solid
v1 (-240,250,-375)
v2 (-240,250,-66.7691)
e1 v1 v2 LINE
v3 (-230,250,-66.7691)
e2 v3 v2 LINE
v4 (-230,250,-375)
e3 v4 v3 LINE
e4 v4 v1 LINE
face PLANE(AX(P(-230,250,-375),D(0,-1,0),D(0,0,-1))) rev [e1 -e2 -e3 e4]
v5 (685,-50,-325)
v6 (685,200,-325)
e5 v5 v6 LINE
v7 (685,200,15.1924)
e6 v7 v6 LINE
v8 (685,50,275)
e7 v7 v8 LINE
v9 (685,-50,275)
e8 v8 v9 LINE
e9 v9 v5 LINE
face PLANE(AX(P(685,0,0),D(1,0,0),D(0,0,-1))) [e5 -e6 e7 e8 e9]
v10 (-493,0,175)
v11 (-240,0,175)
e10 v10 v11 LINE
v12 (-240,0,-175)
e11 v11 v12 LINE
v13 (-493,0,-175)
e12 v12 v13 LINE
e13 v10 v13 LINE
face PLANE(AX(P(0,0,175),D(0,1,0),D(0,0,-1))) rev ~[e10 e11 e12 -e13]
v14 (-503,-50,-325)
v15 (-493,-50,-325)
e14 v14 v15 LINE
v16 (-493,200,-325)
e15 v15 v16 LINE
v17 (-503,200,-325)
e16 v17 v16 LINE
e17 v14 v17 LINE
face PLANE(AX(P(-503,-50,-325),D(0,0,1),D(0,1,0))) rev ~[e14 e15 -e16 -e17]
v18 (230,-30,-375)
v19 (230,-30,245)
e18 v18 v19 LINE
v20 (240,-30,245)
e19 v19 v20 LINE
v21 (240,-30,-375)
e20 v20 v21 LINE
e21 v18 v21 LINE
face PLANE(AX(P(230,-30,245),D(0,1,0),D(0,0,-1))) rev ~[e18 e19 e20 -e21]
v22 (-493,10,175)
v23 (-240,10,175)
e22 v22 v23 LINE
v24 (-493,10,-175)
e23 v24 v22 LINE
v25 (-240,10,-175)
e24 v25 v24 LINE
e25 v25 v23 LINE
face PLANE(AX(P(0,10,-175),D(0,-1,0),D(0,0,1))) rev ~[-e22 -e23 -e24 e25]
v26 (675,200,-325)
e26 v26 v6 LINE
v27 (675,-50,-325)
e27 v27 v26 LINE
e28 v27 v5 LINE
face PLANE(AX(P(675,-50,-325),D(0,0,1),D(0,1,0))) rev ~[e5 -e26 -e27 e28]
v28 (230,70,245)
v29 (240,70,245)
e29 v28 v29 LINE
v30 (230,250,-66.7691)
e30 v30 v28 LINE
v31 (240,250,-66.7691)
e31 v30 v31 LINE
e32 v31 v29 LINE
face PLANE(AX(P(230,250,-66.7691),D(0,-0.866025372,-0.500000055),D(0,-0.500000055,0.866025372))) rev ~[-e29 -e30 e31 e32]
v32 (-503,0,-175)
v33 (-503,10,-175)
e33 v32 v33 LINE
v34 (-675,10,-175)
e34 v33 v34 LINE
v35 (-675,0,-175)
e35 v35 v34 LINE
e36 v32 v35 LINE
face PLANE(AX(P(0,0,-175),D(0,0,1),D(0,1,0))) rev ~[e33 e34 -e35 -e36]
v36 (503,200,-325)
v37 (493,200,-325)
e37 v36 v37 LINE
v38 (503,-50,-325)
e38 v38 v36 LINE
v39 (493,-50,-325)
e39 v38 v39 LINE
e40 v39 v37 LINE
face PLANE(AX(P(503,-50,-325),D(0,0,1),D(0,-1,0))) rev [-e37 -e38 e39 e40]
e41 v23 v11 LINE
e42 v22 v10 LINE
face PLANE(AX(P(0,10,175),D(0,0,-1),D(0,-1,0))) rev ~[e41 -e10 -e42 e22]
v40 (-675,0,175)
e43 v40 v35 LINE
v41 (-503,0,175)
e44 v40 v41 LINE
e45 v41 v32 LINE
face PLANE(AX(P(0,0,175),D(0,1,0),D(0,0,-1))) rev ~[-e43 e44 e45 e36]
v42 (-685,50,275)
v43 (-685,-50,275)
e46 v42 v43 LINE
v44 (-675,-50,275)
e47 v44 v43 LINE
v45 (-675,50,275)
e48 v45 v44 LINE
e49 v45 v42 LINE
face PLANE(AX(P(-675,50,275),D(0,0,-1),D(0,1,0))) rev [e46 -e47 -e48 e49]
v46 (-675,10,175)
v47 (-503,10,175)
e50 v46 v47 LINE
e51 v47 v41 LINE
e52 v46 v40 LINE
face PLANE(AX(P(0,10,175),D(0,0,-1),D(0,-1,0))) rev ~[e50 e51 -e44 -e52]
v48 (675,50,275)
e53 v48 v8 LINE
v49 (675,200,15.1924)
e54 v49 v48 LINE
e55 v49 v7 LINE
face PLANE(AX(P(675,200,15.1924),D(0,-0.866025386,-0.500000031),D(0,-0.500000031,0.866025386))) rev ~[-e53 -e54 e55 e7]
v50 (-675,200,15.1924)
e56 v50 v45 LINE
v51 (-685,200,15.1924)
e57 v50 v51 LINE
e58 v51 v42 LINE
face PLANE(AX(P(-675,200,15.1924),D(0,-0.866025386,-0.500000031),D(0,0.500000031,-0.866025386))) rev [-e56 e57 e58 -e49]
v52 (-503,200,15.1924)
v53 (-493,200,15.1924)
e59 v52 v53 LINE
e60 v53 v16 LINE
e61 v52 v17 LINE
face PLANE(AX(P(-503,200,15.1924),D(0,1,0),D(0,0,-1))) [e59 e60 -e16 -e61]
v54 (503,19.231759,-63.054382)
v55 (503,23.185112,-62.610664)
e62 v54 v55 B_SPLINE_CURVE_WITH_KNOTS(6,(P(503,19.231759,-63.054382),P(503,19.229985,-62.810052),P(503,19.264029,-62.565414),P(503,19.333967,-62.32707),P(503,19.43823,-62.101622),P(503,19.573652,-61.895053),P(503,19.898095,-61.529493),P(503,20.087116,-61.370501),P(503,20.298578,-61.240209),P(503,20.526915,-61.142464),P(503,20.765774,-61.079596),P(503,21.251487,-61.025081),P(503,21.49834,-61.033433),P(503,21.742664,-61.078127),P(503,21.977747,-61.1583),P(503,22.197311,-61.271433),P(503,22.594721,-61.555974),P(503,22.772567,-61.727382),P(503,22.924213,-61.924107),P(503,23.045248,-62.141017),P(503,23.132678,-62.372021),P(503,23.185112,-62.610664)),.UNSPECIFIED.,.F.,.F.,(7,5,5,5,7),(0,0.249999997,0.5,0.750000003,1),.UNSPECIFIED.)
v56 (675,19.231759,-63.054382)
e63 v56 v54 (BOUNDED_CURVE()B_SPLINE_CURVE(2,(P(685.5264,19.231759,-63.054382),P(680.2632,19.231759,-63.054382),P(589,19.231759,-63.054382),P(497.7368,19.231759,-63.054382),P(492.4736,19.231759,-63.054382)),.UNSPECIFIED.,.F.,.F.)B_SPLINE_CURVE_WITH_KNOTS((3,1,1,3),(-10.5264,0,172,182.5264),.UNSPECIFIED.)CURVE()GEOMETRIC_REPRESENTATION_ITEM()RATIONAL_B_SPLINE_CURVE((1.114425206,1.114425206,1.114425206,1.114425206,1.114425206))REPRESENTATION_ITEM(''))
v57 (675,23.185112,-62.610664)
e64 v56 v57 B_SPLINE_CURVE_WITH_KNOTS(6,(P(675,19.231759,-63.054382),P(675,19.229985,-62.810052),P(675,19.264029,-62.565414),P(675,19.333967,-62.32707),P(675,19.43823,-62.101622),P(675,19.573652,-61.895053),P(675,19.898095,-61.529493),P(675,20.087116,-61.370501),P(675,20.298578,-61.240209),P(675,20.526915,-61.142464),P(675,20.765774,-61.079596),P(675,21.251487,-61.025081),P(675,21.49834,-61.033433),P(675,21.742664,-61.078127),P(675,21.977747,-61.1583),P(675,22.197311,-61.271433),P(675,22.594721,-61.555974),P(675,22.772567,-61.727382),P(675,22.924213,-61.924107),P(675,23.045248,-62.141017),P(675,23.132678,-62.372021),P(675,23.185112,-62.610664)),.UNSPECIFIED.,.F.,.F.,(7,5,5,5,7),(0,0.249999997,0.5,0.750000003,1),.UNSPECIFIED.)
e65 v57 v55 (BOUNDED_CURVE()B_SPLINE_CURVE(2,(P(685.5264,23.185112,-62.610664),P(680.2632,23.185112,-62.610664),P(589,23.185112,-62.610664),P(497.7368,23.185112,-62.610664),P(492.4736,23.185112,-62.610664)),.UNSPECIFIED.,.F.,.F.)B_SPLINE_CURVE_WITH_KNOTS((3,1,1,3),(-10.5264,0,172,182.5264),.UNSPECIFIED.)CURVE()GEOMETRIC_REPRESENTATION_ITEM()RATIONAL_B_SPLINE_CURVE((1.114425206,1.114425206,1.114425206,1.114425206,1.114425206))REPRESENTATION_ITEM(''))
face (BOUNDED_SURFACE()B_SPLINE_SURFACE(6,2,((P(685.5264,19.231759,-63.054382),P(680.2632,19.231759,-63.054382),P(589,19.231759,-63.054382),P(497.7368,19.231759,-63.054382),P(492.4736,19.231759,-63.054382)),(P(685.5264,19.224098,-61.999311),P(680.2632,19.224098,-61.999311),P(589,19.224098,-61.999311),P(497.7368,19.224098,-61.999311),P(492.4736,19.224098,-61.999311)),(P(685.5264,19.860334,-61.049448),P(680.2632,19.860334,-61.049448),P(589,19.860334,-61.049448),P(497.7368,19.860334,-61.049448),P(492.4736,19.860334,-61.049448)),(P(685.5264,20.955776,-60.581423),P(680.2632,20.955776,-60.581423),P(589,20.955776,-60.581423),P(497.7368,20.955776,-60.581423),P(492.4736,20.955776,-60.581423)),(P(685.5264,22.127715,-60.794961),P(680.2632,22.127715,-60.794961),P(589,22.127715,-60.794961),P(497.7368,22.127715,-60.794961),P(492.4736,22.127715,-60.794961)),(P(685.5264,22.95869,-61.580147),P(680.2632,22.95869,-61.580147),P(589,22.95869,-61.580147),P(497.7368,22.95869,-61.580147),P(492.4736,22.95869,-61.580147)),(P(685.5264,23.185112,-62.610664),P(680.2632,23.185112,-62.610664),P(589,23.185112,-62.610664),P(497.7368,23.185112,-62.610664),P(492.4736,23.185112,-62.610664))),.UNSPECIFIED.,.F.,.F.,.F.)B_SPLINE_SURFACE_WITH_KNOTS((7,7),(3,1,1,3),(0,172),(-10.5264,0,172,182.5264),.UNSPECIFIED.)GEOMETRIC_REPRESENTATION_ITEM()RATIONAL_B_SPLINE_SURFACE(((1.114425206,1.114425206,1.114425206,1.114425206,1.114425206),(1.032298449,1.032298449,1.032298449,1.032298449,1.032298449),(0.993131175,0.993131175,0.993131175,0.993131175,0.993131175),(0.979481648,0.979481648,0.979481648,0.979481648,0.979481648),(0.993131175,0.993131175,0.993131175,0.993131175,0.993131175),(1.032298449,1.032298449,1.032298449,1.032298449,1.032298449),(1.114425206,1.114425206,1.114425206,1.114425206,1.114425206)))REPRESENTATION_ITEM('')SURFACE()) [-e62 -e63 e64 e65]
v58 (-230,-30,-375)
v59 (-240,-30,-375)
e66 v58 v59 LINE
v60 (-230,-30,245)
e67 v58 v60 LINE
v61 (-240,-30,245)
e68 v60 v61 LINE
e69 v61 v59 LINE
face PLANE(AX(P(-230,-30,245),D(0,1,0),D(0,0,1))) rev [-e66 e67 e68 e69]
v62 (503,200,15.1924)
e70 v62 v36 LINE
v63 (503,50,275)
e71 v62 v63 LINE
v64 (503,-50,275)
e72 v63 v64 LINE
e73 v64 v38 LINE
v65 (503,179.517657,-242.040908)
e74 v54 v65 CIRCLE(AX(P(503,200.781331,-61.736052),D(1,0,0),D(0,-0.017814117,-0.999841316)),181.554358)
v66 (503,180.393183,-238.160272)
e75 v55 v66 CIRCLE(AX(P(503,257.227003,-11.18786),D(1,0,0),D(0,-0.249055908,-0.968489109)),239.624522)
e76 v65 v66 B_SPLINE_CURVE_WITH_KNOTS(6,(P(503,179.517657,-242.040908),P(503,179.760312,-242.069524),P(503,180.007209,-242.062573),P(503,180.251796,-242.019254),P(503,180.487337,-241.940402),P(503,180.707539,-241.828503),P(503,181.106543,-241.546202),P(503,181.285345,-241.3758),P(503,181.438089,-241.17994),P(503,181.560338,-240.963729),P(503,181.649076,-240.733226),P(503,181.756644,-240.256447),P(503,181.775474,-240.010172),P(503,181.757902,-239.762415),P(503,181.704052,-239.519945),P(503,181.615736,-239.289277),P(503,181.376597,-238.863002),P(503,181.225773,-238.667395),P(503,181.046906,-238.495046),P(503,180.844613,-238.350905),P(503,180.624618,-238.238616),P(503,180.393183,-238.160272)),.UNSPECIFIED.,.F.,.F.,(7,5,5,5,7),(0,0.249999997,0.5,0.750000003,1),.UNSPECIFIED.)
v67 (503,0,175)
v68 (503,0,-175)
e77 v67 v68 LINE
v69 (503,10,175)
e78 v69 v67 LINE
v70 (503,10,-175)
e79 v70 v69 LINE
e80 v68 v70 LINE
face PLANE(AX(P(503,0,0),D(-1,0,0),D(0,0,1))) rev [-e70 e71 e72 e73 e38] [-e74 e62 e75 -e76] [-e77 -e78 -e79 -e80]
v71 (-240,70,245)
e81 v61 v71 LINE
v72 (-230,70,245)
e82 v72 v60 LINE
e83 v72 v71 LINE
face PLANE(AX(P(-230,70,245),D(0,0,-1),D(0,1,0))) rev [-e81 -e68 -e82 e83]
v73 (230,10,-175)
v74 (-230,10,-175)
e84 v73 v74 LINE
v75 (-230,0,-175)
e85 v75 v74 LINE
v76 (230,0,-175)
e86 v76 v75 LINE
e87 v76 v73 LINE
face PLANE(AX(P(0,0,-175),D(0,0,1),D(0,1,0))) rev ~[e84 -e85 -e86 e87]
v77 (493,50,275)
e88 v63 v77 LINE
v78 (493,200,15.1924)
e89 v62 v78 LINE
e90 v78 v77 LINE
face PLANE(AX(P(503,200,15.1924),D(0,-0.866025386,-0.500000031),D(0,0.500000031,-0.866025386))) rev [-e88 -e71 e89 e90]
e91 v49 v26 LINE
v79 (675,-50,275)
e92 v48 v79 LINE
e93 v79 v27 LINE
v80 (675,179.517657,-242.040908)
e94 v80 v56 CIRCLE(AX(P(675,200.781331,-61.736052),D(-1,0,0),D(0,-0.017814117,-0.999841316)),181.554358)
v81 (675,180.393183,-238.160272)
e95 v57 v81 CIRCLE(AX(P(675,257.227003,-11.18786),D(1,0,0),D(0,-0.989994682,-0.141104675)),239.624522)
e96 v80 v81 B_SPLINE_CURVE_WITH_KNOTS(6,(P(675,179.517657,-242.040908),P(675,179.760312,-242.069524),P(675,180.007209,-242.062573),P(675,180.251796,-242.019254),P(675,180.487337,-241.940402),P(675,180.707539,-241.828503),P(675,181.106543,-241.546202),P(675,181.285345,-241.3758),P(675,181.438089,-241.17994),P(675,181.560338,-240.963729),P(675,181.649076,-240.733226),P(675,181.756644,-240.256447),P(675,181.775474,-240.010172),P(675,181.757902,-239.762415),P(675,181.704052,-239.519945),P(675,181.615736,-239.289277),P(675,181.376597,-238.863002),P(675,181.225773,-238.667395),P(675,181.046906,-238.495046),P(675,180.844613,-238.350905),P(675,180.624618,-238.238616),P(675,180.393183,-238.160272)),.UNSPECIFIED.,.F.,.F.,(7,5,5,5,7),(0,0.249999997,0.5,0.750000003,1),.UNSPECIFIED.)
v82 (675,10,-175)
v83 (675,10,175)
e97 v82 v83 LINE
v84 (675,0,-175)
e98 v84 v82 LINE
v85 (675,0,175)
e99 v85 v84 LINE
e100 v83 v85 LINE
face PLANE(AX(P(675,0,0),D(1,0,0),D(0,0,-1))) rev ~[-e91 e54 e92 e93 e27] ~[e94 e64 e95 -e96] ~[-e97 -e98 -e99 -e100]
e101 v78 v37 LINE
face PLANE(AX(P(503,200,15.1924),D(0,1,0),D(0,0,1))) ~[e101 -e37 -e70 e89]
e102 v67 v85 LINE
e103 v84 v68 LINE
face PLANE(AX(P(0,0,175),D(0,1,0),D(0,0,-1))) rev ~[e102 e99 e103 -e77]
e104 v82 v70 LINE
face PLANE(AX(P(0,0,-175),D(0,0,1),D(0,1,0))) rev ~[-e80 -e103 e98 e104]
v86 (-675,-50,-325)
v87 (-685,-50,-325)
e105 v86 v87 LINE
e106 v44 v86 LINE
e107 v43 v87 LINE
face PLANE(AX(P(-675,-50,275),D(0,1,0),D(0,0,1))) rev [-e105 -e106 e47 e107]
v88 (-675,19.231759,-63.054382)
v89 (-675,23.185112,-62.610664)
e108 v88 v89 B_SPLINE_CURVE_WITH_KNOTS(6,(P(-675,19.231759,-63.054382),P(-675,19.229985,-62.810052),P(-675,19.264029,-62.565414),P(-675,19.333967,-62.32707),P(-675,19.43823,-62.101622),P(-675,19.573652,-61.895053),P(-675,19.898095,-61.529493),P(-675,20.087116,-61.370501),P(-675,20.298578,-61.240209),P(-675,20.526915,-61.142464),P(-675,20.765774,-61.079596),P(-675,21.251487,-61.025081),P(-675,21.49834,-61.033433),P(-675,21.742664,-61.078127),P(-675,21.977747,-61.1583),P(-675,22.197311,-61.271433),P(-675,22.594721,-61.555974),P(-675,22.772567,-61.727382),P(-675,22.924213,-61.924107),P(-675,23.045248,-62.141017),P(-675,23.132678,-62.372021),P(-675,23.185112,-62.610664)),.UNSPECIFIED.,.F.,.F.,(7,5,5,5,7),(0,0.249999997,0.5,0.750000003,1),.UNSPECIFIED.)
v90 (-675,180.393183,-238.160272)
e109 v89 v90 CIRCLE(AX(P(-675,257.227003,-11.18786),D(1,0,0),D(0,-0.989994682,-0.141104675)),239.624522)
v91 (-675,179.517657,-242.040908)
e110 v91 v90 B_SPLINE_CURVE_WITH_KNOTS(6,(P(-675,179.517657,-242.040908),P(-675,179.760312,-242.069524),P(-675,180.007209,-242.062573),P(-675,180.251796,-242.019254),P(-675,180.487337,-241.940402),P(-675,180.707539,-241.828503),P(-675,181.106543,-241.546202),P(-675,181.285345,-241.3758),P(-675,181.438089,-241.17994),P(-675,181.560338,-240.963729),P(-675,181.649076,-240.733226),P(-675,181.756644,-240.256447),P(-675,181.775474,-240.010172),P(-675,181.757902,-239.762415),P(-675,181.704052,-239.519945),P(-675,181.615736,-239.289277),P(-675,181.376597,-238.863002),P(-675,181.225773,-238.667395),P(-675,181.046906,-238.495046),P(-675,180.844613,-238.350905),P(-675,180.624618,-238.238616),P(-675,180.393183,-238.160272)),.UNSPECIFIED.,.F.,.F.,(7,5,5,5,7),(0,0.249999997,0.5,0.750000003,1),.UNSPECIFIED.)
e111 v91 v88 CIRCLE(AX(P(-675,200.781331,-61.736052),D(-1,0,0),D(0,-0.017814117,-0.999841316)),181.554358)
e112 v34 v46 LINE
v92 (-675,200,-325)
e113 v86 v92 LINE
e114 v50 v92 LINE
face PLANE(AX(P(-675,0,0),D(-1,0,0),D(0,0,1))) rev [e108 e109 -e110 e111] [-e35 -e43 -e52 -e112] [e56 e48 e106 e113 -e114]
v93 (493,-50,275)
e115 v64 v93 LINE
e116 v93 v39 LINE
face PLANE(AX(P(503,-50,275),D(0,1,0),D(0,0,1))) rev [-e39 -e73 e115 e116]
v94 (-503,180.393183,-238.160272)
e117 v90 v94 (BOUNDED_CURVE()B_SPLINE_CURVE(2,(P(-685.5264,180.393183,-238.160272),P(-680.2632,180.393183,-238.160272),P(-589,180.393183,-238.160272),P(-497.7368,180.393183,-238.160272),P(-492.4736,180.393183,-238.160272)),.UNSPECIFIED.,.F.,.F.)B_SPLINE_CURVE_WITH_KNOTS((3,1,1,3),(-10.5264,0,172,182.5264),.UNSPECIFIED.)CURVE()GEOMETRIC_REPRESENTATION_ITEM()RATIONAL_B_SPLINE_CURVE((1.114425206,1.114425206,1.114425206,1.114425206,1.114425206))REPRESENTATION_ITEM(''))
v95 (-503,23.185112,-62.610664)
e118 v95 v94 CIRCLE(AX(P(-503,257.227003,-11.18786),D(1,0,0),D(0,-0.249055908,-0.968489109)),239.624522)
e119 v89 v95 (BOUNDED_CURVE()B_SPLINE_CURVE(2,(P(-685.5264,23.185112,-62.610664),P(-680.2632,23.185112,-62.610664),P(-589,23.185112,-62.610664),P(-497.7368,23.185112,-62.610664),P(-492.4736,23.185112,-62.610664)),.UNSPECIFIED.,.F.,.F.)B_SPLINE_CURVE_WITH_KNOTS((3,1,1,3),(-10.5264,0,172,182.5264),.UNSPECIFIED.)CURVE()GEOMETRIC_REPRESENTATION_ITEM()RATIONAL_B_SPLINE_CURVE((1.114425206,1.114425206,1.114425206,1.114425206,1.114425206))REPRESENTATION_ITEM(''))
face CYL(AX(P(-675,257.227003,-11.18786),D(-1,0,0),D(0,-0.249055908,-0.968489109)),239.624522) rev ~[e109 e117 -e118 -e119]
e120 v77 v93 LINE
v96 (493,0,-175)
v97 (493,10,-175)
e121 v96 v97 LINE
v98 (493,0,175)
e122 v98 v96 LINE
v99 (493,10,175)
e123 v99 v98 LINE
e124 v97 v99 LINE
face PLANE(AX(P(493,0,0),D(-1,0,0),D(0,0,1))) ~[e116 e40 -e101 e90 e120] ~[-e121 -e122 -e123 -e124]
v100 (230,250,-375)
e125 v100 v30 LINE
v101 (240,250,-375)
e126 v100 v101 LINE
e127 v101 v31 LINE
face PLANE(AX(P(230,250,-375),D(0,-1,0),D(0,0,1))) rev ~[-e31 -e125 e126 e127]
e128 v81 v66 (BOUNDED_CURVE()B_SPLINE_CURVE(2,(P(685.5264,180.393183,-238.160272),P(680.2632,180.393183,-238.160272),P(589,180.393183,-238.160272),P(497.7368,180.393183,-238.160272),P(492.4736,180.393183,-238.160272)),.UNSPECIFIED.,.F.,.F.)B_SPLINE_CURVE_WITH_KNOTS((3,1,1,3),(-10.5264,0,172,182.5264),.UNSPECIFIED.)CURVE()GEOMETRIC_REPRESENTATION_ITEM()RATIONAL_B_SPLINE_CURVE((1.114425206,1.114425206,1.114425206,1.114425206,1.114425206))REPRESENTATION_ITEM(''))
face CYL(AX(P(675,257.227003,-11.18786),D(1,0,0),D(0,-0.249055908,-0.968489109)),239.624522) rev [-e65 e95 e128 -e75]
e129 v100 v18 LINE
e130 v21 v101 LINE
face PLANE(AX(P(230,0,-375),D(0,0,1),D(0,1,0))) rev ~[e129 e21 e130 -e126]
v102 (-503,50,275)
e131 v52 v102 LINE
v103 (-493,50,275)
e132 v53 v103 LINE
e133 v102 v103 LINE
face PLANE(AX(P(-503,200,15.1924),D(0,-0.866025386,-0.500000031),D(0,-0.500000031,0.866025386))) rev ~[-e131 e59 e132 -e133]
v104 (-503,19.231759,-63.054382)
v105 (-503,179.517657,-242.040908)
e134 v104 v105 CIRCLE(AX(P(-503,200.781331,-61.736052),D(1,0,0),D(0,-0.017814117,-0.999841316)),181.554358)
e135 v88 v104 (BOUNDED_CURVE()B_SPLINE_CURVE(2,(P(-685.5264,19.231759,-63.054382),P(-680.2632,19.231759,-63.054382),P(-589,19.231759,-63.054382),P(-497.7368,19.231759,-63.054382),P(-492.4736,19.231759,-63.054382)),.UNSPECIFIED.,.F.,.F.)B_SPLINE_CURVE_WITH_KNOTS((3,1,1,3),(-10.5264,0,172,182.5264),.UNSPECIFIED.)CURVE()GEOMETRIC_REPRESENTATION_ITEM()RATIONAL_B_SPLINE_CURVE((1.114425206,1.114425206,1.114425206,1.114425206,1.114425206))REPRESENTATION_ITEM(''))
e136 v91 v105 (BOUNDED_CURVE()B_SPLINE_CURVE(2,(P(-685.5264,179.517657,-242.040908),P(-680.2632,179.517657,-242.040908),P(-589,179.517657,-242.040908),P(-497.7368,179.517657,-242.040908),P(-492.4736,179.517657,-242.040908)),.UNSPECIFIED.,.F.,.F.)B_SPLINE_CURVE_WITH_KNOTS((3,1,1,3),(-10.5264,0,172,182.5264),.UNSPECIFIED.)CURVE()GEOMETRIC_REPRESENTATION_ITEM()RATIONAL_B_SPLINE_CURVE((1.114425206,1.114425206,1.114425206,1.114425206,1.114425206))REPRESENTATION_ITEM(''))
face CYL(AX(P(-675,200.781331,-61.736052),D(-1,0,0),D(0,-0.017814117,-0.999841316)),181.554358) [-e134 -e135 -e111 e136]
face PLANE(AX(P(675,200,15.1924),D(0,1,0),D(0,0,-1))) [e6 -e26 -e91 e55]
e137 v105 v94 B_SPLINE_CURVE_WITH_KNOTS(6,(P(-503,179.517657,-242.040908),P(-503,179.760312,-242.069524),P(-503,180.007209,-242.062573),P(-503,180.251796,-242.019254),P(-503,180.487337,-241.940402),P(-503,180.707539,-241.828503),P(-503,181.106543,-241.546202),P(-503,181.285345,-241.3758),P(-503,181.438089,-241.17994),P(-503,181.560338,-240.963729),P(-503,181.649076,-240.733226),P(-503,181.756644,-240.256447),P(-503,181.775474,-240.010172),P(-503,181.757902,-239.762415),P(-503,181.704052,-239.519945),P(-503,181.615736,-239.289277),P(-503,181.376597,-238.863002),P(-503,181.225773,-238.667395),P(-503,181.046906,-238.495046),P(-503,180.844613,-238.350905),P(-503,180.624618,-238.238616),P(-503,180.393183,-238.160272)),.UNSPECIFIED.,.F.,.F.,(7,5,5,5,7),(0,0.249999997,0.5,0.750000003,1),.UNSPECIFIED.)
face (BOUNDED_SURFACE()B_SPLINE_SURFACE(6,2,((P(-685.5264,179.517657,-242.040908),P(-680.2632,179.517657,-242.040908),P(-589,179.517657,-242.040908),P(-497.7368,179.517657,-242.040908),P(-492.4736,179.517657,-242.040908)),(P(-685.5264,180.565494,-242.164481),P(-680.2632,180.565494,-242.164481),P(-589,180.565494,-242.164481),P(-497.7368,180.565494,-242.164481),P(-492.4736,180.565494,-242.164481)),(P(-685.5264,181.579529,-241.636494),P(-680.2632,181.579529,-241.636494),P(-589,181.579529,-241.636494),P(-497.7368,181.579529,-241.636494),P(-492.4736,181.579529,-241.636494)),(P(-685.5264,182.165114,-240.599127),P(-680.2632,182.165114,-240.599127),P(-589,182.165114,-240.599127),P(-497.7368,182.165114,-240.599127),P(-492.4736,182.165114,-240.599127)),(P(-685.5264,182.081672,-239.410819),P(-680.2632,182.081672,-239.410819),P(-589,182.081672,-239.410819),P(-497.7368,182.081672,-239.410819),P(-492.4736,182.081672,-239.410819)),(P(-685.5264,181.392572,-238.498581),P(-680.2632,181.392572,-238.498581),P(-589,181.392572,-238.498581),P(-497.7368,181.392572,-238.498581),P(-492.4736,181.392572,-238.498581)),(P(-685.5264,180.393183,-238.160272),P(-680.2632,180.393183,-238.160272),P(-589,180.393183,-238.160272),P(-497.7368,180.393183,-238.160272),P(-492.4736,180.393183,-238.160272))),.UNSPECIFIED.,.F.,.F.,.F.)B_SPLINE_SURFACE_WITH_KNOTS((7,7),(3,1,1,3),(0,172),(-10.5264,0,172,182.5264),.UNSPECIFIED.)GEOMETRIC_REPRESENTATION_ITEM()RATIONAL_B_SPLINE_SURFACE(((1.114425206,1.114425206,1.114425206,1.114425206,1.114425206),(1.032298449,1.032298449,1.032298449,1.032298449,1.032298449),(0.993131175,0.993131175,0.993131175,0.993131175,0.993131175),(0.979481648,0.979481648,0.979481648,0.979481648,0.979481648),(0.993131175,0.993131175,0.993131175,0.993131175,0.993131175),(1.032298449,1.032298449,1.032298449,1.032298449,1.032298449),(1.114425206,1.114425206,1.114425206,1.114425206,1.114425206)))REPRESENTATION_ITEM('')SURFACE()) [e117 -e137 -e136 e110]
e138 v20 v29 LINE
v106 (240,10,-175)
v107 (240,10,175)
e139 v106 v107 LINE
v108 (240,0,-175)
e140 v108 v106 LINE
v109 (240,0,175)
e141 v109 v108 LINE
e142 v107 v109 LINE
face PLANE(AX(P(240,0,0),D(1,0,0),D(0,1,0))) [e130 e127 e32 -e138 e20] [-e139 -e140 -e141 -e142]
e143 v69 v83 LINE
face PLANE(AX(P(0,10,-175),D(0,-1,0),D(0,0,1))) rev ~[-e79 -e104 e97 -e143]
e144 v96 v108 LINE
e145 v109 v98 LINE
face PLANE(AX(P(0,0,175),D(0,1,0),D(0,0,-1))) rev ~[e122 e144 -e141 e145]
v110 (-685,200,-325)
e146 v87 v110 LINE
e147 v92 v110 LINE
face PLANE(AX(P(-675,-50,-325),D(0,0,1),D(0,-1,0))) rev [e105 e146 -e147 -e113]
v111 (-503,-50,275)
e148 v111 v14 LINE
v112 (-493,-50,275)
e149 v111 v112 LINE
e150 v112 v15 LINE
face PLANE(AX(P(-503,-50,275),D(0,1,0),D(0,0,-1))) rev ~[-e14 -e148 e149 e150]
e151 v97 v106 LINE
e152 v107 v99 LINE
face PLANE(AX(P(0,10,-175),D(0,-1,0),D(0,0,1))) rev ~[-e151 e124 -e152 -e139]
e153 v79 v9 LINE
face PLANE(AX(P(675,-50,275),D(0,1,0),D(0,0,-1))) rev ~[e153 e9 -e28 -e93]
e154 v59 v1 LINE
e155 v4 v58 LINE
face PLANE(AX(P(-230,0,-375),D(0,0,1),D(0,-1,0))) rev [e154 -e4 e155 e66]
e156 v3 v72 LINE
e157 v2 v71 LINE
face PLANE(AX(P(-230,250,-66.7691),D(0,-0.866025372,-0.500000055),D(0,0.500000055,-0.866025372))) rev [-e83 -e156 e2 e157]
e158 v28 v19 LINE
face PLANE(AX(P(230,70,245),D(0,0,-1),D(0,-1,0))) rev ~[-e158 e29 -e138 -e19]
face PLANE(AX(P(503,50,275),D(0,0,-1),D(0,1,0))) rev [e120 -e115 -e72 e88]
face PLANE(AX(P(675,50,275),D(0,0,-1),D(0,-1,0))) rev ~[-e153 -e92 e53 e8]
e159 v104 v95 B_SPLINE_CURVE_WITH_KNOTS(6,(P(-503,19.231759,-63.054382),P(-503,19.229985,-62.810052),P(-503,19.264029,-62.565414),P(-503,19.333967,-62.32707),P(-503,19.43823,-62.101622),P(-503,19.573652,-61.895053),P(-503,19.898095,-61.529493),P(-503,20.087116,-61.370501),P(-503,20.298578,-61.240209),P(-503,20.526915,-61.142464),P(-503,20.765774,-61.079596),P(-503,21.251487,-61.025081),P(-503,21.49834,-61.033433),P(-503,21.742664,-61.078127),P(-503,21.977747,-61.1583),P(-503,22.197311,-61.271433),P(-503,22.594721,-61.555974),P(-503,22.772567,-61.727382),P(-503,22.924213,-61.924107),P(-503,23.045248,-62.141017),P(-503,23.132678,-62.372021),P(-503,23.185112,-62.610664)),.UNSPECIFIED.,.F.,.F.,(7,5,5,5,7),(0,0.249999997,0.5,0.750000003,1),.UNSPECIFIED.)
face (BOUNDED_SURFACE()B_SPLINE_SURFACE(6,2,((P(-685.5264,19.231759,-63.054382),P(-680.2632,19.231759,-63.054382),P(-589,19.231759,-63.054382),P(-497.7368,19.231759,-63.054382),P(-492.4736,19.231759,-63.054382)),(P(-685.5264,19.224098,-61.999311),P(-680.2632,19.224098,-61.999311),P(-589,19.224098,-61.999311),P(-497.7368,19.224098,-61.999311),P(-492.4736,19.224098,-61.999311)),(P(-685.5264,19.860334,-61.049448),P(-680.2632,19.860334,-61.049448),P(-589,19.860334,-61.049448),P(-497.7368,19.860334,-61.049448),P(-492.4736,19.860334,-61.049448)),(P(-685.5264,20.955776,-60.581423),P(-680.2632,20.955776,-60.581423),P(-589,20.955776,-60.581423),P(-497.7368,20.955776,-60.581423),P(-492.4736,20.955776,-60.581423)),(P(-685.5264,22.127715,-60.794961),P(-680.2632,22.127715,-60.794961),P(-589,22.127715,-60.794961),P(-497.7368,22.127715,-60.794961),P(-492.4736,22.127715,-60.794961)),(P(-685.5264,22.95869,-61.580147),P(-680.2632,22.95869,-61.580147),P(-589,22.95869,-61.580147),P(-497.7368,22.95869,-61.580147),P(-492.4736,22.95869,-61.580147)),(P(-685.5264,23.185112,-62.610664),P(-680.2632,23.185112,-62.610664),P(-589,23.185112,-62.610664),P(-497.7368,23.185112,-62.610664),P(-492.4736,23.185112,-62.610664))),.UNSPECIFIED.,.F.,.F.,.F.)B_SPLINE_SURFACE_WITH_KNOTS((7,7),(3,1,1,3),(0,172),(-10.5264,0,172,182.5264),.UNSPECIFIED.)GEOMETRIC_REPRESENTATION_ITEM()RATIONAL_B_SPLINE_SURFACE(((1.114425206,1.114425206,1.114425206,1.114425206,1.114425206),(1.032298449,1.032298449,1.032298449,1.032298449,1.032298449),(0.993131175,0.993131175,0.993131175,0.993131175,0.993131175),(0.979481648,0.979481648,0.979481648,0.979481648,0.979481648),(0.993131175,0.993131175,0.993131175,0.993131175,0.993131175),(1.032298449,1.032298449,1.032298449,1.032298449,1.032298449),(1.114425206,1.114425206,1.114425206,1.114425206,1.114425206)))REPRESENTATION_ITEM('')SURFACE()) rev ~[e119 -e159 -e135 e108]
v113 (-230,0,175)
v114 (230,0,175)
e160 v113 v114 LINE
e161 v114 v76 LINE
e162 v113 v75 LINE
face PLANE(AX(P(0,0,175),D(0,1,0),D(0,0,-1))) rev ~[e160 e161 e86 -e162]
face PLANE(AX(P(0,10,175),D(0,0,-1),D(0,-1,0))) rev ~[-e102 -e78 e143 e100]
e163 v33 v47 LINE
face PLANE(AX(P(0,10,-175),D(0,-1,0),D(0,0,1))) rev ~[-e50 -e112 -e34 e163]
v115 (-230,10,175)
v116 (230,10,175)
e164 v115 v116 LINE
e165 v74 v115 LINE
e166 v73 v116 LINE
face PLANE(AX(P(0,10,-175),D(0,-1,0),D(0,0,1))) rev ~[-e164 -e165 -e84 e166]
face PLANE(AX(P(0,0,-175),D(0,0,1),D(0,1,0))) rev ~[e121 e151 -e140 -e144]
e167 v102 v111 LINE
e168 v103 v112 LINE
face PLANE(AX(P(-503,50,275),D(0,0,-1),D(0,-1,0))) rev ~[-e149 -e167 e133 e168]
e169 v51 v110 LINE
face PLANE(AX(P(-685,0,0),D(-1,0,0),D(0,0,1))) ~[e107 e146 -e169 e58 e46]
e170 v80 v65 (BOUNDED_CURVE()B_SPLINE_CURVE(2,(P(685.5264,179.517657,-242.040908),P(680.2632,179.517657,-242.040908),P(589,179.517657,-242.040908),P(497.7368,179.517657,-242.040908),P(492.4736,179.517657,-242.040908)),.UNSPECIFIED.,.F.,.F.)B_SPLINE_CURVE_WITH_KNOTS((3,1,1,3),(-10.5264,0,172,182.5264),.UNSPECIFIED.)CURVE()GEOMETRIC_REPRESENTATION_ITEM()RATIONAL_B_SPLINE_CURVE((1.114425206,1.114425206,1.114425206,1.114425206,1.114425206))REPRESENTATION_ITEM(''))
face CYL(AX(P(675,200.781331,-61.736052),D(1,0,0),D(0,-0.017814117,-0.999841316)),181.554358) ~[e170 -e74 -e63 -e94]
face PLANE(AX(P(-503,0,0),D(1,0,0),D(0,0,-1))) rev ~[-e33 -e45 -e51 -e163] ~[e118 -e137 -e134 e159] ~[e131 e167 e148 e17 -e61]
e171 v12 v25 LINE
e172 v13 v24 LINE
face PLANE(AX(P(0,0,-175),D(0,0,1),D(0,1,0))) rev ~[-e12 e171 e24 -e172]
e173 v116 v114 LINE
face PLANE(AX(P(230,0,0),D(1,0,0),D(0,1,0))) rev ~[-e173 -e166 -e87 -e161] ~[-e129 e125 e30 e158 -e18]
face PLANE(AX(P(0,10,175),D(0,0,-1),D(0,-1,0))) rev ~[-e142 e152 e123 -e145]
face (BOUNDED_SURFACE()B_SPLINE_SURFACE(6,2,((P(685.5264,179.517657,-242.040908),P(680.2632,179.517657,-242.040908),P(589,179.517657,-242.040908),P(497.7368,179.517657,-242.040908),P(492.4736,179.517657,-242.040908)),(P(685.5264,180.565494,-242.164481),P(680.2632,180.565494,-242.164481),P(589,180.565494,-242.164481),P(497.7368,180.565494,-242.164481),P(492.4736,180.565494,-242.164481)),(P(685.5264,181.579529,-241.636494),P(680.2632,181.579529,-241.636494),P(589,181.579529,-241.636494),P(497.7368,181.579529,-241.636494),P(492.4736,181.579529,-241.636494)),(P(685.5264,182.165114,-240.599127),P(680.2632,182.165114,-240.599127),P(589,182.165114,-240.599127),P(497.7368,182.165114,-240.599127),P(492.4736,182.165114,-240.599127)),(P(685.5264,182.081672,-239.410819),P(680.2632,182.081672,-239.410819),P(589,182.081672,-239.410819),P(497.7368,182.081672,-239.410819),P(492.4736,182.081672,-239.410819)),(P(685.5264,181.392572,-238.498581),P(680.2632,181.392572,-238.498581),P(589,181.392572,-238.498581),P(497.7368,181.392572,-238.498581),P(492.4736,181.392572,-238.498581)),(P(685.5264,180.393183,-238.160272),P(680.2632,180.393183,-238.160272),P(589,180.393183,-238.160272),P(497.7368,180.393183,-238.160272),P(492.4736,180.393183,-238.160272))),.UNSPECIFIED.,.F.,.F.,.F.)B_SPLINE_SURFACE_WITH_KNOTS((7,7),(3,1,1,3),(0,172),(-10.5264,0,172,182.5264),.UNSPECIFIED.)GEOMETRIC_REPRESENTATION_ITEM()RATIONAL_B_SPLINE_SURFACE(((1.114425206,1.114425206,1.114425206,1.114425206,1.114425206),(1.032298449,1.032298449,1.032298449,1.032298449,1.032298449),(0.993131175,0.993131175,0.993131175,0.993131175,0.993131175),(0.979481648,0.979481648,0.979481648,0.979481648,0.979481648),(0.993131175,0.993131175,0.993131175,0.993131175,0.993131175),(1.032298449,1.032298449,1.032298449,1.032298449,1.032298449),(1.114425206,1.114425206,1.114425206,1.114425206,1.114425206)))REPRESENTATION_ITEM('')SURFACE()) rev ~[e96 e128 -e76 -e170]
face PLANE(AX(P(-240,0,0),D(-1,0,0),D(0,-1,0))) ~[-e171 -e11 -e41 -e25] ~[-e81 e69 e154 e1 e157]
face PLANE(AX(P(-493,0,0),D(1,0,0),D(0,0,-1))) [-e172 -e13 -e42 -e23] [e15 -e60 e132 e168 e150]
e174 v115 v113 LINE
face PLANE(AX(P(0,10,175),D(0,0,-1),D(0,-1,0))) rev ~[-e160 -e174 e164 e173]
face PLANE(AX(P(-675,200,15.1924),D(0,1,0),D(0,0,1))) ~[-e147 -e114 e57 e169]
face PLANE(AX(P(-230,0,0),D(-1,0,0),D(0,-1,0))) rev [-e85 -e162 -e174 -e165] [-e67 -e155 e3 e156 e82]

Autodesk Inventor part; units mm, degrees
sketch "スケッチ1" plane through (0, 0, 0) normal (1, 0, 0) x (0, 1, 0)
  line L0 (10, 175) -> (0, 175)
  line L1 (0, 175) -> (0, -175)
  line L2 (0, -175) -> (10, -175)
  line L3 (10, -175) -> (10, 175)
  point P0 (0, 0)
  dimension "d0" = 350
  dimension "d1" = 10
extrude "押し出し1" add sketch "スケッチ1" along normal mid plane 1350
sketch "スケッチ2" plane through (675, 0, 0) normal (1, 0, 0) x (0, 0, -1)
  line L0 (-15.1924, 200) -> (-275, 50)
  line L1 (-275, 50) -> (-275, -50)
  line L2 (-275, -50) -> (325, -50)
  line L3 (325, -50) -> (325, 200)
  line L4 (-175, 0) -> (175, 0) projected
  line L5 (-175, 10) -> (-175, 0) projected
  line L6 (175, 0) -> (175, 10) projected
  line L7 (175, 10) -> (-175, 10) projected
  line L8 (-15.1924, 200) -> (325, 200)
  point P0 (0, 0)
  dimension "d4" = 50
  dimension "d5" = 30
  dimension "d6" = 250
  dimension "d7" = 600
  dimension "d8" = 100
  dimension "d9" = 100
extrude "押し出し3" add sketch "スケッチ2" along normal blind 10 contours L8 L3 L2 L1 L0 | L5 L7 L6 L4
ref_plane "作業平面1" through (230, 0, 0) normal (1, 0, 0) x (0, 1, 0)
ref_plane "作業平面2" through (589, 0, 0) normal (-1, 0, 0) x (0, 0, 1)
ref_plane "作業平面3" through (230, 0, 0) normal (1, 0, 0) x (0, 1, 0)
mirror "ミラー3" about plane through (589, 0, 0) normal (-1, 0, 0) of "押し出し3"
sketch "スケッチ4" plane through (230, 0, 0) normal (1, 0, 0) x (0, 1, 0)
  line L0 (70, 245) -> (-30, 245)
  line L1 (-30, 245) -> (-30, -375)
  line L2 (-30, -375) -> (250, -375)
  line L3 (250, -375) -> (250, -66.7691)
  line L4 (250, -66.7691) -> (70, 245)
  line L5 (0, -505) -> (0, 405) projected
  line L6 (50, 275) -> (-50, 275) projected
  line L7 (-50, 275) -> (-50, -325) projected
  line L8 (-50, -325) -> (200, -325) projected
  line L9 (200, -325) -> (200, 15.1924) projected
  point P0 (0, 0)
  dimension "d26" = 30
  dimension "d27" = 20
  dimension "d28" = 50
  dimension "d29" = 30
  dimension "d30" = 100
  dimension "d44" = 50
extrude "押し出し5" add sketch "スケッチ4" along normal blind 10 contours L4 L3 L2 L5 L0 | L5 L8 L1 L0 | L5 L2 L1 L8
sketch "スケッチ5" plane through (675, 0, 0) normal (-1, 0, 0) x (0, 0, 1)
  arc A0 (-243.2616, 197.5471) -> (-45, 20) centre (-11.1877, 257.2271) ccw
  line L0 (175, 10) -> (-175, 10) projected
  line L1 (-175, 10) -> (-175, 0) projected
  line L2 (-175, 10) -> (-243.2616, 197.5471)
  arc A1 (-243.2616, 197.5471) -> (-45, 20) centre (-61.7359, 200.7814) ccw
  point P0 (0, 0)
  dimension "d36" = 10
  dimension "d37" = 130
  dimension "d42" = 110
extrude "押し出し6" add sketch "スケッチ5" along normal up to next contours A0 L2 A1 | A0 A1 L2
fillet "フィレット1" radius 2 2 edges at (589, 197.5471, -243.2616) (589, 20, -45)
mirror "ミラー6" about plane through (0, 0, 0) normal (1, 0, 0) of "押し出し5", "押し出し3", "ミラー3", "押し出し6", "フィレット1"
properties part number "F-wing" material "PAEK 樹脂"
